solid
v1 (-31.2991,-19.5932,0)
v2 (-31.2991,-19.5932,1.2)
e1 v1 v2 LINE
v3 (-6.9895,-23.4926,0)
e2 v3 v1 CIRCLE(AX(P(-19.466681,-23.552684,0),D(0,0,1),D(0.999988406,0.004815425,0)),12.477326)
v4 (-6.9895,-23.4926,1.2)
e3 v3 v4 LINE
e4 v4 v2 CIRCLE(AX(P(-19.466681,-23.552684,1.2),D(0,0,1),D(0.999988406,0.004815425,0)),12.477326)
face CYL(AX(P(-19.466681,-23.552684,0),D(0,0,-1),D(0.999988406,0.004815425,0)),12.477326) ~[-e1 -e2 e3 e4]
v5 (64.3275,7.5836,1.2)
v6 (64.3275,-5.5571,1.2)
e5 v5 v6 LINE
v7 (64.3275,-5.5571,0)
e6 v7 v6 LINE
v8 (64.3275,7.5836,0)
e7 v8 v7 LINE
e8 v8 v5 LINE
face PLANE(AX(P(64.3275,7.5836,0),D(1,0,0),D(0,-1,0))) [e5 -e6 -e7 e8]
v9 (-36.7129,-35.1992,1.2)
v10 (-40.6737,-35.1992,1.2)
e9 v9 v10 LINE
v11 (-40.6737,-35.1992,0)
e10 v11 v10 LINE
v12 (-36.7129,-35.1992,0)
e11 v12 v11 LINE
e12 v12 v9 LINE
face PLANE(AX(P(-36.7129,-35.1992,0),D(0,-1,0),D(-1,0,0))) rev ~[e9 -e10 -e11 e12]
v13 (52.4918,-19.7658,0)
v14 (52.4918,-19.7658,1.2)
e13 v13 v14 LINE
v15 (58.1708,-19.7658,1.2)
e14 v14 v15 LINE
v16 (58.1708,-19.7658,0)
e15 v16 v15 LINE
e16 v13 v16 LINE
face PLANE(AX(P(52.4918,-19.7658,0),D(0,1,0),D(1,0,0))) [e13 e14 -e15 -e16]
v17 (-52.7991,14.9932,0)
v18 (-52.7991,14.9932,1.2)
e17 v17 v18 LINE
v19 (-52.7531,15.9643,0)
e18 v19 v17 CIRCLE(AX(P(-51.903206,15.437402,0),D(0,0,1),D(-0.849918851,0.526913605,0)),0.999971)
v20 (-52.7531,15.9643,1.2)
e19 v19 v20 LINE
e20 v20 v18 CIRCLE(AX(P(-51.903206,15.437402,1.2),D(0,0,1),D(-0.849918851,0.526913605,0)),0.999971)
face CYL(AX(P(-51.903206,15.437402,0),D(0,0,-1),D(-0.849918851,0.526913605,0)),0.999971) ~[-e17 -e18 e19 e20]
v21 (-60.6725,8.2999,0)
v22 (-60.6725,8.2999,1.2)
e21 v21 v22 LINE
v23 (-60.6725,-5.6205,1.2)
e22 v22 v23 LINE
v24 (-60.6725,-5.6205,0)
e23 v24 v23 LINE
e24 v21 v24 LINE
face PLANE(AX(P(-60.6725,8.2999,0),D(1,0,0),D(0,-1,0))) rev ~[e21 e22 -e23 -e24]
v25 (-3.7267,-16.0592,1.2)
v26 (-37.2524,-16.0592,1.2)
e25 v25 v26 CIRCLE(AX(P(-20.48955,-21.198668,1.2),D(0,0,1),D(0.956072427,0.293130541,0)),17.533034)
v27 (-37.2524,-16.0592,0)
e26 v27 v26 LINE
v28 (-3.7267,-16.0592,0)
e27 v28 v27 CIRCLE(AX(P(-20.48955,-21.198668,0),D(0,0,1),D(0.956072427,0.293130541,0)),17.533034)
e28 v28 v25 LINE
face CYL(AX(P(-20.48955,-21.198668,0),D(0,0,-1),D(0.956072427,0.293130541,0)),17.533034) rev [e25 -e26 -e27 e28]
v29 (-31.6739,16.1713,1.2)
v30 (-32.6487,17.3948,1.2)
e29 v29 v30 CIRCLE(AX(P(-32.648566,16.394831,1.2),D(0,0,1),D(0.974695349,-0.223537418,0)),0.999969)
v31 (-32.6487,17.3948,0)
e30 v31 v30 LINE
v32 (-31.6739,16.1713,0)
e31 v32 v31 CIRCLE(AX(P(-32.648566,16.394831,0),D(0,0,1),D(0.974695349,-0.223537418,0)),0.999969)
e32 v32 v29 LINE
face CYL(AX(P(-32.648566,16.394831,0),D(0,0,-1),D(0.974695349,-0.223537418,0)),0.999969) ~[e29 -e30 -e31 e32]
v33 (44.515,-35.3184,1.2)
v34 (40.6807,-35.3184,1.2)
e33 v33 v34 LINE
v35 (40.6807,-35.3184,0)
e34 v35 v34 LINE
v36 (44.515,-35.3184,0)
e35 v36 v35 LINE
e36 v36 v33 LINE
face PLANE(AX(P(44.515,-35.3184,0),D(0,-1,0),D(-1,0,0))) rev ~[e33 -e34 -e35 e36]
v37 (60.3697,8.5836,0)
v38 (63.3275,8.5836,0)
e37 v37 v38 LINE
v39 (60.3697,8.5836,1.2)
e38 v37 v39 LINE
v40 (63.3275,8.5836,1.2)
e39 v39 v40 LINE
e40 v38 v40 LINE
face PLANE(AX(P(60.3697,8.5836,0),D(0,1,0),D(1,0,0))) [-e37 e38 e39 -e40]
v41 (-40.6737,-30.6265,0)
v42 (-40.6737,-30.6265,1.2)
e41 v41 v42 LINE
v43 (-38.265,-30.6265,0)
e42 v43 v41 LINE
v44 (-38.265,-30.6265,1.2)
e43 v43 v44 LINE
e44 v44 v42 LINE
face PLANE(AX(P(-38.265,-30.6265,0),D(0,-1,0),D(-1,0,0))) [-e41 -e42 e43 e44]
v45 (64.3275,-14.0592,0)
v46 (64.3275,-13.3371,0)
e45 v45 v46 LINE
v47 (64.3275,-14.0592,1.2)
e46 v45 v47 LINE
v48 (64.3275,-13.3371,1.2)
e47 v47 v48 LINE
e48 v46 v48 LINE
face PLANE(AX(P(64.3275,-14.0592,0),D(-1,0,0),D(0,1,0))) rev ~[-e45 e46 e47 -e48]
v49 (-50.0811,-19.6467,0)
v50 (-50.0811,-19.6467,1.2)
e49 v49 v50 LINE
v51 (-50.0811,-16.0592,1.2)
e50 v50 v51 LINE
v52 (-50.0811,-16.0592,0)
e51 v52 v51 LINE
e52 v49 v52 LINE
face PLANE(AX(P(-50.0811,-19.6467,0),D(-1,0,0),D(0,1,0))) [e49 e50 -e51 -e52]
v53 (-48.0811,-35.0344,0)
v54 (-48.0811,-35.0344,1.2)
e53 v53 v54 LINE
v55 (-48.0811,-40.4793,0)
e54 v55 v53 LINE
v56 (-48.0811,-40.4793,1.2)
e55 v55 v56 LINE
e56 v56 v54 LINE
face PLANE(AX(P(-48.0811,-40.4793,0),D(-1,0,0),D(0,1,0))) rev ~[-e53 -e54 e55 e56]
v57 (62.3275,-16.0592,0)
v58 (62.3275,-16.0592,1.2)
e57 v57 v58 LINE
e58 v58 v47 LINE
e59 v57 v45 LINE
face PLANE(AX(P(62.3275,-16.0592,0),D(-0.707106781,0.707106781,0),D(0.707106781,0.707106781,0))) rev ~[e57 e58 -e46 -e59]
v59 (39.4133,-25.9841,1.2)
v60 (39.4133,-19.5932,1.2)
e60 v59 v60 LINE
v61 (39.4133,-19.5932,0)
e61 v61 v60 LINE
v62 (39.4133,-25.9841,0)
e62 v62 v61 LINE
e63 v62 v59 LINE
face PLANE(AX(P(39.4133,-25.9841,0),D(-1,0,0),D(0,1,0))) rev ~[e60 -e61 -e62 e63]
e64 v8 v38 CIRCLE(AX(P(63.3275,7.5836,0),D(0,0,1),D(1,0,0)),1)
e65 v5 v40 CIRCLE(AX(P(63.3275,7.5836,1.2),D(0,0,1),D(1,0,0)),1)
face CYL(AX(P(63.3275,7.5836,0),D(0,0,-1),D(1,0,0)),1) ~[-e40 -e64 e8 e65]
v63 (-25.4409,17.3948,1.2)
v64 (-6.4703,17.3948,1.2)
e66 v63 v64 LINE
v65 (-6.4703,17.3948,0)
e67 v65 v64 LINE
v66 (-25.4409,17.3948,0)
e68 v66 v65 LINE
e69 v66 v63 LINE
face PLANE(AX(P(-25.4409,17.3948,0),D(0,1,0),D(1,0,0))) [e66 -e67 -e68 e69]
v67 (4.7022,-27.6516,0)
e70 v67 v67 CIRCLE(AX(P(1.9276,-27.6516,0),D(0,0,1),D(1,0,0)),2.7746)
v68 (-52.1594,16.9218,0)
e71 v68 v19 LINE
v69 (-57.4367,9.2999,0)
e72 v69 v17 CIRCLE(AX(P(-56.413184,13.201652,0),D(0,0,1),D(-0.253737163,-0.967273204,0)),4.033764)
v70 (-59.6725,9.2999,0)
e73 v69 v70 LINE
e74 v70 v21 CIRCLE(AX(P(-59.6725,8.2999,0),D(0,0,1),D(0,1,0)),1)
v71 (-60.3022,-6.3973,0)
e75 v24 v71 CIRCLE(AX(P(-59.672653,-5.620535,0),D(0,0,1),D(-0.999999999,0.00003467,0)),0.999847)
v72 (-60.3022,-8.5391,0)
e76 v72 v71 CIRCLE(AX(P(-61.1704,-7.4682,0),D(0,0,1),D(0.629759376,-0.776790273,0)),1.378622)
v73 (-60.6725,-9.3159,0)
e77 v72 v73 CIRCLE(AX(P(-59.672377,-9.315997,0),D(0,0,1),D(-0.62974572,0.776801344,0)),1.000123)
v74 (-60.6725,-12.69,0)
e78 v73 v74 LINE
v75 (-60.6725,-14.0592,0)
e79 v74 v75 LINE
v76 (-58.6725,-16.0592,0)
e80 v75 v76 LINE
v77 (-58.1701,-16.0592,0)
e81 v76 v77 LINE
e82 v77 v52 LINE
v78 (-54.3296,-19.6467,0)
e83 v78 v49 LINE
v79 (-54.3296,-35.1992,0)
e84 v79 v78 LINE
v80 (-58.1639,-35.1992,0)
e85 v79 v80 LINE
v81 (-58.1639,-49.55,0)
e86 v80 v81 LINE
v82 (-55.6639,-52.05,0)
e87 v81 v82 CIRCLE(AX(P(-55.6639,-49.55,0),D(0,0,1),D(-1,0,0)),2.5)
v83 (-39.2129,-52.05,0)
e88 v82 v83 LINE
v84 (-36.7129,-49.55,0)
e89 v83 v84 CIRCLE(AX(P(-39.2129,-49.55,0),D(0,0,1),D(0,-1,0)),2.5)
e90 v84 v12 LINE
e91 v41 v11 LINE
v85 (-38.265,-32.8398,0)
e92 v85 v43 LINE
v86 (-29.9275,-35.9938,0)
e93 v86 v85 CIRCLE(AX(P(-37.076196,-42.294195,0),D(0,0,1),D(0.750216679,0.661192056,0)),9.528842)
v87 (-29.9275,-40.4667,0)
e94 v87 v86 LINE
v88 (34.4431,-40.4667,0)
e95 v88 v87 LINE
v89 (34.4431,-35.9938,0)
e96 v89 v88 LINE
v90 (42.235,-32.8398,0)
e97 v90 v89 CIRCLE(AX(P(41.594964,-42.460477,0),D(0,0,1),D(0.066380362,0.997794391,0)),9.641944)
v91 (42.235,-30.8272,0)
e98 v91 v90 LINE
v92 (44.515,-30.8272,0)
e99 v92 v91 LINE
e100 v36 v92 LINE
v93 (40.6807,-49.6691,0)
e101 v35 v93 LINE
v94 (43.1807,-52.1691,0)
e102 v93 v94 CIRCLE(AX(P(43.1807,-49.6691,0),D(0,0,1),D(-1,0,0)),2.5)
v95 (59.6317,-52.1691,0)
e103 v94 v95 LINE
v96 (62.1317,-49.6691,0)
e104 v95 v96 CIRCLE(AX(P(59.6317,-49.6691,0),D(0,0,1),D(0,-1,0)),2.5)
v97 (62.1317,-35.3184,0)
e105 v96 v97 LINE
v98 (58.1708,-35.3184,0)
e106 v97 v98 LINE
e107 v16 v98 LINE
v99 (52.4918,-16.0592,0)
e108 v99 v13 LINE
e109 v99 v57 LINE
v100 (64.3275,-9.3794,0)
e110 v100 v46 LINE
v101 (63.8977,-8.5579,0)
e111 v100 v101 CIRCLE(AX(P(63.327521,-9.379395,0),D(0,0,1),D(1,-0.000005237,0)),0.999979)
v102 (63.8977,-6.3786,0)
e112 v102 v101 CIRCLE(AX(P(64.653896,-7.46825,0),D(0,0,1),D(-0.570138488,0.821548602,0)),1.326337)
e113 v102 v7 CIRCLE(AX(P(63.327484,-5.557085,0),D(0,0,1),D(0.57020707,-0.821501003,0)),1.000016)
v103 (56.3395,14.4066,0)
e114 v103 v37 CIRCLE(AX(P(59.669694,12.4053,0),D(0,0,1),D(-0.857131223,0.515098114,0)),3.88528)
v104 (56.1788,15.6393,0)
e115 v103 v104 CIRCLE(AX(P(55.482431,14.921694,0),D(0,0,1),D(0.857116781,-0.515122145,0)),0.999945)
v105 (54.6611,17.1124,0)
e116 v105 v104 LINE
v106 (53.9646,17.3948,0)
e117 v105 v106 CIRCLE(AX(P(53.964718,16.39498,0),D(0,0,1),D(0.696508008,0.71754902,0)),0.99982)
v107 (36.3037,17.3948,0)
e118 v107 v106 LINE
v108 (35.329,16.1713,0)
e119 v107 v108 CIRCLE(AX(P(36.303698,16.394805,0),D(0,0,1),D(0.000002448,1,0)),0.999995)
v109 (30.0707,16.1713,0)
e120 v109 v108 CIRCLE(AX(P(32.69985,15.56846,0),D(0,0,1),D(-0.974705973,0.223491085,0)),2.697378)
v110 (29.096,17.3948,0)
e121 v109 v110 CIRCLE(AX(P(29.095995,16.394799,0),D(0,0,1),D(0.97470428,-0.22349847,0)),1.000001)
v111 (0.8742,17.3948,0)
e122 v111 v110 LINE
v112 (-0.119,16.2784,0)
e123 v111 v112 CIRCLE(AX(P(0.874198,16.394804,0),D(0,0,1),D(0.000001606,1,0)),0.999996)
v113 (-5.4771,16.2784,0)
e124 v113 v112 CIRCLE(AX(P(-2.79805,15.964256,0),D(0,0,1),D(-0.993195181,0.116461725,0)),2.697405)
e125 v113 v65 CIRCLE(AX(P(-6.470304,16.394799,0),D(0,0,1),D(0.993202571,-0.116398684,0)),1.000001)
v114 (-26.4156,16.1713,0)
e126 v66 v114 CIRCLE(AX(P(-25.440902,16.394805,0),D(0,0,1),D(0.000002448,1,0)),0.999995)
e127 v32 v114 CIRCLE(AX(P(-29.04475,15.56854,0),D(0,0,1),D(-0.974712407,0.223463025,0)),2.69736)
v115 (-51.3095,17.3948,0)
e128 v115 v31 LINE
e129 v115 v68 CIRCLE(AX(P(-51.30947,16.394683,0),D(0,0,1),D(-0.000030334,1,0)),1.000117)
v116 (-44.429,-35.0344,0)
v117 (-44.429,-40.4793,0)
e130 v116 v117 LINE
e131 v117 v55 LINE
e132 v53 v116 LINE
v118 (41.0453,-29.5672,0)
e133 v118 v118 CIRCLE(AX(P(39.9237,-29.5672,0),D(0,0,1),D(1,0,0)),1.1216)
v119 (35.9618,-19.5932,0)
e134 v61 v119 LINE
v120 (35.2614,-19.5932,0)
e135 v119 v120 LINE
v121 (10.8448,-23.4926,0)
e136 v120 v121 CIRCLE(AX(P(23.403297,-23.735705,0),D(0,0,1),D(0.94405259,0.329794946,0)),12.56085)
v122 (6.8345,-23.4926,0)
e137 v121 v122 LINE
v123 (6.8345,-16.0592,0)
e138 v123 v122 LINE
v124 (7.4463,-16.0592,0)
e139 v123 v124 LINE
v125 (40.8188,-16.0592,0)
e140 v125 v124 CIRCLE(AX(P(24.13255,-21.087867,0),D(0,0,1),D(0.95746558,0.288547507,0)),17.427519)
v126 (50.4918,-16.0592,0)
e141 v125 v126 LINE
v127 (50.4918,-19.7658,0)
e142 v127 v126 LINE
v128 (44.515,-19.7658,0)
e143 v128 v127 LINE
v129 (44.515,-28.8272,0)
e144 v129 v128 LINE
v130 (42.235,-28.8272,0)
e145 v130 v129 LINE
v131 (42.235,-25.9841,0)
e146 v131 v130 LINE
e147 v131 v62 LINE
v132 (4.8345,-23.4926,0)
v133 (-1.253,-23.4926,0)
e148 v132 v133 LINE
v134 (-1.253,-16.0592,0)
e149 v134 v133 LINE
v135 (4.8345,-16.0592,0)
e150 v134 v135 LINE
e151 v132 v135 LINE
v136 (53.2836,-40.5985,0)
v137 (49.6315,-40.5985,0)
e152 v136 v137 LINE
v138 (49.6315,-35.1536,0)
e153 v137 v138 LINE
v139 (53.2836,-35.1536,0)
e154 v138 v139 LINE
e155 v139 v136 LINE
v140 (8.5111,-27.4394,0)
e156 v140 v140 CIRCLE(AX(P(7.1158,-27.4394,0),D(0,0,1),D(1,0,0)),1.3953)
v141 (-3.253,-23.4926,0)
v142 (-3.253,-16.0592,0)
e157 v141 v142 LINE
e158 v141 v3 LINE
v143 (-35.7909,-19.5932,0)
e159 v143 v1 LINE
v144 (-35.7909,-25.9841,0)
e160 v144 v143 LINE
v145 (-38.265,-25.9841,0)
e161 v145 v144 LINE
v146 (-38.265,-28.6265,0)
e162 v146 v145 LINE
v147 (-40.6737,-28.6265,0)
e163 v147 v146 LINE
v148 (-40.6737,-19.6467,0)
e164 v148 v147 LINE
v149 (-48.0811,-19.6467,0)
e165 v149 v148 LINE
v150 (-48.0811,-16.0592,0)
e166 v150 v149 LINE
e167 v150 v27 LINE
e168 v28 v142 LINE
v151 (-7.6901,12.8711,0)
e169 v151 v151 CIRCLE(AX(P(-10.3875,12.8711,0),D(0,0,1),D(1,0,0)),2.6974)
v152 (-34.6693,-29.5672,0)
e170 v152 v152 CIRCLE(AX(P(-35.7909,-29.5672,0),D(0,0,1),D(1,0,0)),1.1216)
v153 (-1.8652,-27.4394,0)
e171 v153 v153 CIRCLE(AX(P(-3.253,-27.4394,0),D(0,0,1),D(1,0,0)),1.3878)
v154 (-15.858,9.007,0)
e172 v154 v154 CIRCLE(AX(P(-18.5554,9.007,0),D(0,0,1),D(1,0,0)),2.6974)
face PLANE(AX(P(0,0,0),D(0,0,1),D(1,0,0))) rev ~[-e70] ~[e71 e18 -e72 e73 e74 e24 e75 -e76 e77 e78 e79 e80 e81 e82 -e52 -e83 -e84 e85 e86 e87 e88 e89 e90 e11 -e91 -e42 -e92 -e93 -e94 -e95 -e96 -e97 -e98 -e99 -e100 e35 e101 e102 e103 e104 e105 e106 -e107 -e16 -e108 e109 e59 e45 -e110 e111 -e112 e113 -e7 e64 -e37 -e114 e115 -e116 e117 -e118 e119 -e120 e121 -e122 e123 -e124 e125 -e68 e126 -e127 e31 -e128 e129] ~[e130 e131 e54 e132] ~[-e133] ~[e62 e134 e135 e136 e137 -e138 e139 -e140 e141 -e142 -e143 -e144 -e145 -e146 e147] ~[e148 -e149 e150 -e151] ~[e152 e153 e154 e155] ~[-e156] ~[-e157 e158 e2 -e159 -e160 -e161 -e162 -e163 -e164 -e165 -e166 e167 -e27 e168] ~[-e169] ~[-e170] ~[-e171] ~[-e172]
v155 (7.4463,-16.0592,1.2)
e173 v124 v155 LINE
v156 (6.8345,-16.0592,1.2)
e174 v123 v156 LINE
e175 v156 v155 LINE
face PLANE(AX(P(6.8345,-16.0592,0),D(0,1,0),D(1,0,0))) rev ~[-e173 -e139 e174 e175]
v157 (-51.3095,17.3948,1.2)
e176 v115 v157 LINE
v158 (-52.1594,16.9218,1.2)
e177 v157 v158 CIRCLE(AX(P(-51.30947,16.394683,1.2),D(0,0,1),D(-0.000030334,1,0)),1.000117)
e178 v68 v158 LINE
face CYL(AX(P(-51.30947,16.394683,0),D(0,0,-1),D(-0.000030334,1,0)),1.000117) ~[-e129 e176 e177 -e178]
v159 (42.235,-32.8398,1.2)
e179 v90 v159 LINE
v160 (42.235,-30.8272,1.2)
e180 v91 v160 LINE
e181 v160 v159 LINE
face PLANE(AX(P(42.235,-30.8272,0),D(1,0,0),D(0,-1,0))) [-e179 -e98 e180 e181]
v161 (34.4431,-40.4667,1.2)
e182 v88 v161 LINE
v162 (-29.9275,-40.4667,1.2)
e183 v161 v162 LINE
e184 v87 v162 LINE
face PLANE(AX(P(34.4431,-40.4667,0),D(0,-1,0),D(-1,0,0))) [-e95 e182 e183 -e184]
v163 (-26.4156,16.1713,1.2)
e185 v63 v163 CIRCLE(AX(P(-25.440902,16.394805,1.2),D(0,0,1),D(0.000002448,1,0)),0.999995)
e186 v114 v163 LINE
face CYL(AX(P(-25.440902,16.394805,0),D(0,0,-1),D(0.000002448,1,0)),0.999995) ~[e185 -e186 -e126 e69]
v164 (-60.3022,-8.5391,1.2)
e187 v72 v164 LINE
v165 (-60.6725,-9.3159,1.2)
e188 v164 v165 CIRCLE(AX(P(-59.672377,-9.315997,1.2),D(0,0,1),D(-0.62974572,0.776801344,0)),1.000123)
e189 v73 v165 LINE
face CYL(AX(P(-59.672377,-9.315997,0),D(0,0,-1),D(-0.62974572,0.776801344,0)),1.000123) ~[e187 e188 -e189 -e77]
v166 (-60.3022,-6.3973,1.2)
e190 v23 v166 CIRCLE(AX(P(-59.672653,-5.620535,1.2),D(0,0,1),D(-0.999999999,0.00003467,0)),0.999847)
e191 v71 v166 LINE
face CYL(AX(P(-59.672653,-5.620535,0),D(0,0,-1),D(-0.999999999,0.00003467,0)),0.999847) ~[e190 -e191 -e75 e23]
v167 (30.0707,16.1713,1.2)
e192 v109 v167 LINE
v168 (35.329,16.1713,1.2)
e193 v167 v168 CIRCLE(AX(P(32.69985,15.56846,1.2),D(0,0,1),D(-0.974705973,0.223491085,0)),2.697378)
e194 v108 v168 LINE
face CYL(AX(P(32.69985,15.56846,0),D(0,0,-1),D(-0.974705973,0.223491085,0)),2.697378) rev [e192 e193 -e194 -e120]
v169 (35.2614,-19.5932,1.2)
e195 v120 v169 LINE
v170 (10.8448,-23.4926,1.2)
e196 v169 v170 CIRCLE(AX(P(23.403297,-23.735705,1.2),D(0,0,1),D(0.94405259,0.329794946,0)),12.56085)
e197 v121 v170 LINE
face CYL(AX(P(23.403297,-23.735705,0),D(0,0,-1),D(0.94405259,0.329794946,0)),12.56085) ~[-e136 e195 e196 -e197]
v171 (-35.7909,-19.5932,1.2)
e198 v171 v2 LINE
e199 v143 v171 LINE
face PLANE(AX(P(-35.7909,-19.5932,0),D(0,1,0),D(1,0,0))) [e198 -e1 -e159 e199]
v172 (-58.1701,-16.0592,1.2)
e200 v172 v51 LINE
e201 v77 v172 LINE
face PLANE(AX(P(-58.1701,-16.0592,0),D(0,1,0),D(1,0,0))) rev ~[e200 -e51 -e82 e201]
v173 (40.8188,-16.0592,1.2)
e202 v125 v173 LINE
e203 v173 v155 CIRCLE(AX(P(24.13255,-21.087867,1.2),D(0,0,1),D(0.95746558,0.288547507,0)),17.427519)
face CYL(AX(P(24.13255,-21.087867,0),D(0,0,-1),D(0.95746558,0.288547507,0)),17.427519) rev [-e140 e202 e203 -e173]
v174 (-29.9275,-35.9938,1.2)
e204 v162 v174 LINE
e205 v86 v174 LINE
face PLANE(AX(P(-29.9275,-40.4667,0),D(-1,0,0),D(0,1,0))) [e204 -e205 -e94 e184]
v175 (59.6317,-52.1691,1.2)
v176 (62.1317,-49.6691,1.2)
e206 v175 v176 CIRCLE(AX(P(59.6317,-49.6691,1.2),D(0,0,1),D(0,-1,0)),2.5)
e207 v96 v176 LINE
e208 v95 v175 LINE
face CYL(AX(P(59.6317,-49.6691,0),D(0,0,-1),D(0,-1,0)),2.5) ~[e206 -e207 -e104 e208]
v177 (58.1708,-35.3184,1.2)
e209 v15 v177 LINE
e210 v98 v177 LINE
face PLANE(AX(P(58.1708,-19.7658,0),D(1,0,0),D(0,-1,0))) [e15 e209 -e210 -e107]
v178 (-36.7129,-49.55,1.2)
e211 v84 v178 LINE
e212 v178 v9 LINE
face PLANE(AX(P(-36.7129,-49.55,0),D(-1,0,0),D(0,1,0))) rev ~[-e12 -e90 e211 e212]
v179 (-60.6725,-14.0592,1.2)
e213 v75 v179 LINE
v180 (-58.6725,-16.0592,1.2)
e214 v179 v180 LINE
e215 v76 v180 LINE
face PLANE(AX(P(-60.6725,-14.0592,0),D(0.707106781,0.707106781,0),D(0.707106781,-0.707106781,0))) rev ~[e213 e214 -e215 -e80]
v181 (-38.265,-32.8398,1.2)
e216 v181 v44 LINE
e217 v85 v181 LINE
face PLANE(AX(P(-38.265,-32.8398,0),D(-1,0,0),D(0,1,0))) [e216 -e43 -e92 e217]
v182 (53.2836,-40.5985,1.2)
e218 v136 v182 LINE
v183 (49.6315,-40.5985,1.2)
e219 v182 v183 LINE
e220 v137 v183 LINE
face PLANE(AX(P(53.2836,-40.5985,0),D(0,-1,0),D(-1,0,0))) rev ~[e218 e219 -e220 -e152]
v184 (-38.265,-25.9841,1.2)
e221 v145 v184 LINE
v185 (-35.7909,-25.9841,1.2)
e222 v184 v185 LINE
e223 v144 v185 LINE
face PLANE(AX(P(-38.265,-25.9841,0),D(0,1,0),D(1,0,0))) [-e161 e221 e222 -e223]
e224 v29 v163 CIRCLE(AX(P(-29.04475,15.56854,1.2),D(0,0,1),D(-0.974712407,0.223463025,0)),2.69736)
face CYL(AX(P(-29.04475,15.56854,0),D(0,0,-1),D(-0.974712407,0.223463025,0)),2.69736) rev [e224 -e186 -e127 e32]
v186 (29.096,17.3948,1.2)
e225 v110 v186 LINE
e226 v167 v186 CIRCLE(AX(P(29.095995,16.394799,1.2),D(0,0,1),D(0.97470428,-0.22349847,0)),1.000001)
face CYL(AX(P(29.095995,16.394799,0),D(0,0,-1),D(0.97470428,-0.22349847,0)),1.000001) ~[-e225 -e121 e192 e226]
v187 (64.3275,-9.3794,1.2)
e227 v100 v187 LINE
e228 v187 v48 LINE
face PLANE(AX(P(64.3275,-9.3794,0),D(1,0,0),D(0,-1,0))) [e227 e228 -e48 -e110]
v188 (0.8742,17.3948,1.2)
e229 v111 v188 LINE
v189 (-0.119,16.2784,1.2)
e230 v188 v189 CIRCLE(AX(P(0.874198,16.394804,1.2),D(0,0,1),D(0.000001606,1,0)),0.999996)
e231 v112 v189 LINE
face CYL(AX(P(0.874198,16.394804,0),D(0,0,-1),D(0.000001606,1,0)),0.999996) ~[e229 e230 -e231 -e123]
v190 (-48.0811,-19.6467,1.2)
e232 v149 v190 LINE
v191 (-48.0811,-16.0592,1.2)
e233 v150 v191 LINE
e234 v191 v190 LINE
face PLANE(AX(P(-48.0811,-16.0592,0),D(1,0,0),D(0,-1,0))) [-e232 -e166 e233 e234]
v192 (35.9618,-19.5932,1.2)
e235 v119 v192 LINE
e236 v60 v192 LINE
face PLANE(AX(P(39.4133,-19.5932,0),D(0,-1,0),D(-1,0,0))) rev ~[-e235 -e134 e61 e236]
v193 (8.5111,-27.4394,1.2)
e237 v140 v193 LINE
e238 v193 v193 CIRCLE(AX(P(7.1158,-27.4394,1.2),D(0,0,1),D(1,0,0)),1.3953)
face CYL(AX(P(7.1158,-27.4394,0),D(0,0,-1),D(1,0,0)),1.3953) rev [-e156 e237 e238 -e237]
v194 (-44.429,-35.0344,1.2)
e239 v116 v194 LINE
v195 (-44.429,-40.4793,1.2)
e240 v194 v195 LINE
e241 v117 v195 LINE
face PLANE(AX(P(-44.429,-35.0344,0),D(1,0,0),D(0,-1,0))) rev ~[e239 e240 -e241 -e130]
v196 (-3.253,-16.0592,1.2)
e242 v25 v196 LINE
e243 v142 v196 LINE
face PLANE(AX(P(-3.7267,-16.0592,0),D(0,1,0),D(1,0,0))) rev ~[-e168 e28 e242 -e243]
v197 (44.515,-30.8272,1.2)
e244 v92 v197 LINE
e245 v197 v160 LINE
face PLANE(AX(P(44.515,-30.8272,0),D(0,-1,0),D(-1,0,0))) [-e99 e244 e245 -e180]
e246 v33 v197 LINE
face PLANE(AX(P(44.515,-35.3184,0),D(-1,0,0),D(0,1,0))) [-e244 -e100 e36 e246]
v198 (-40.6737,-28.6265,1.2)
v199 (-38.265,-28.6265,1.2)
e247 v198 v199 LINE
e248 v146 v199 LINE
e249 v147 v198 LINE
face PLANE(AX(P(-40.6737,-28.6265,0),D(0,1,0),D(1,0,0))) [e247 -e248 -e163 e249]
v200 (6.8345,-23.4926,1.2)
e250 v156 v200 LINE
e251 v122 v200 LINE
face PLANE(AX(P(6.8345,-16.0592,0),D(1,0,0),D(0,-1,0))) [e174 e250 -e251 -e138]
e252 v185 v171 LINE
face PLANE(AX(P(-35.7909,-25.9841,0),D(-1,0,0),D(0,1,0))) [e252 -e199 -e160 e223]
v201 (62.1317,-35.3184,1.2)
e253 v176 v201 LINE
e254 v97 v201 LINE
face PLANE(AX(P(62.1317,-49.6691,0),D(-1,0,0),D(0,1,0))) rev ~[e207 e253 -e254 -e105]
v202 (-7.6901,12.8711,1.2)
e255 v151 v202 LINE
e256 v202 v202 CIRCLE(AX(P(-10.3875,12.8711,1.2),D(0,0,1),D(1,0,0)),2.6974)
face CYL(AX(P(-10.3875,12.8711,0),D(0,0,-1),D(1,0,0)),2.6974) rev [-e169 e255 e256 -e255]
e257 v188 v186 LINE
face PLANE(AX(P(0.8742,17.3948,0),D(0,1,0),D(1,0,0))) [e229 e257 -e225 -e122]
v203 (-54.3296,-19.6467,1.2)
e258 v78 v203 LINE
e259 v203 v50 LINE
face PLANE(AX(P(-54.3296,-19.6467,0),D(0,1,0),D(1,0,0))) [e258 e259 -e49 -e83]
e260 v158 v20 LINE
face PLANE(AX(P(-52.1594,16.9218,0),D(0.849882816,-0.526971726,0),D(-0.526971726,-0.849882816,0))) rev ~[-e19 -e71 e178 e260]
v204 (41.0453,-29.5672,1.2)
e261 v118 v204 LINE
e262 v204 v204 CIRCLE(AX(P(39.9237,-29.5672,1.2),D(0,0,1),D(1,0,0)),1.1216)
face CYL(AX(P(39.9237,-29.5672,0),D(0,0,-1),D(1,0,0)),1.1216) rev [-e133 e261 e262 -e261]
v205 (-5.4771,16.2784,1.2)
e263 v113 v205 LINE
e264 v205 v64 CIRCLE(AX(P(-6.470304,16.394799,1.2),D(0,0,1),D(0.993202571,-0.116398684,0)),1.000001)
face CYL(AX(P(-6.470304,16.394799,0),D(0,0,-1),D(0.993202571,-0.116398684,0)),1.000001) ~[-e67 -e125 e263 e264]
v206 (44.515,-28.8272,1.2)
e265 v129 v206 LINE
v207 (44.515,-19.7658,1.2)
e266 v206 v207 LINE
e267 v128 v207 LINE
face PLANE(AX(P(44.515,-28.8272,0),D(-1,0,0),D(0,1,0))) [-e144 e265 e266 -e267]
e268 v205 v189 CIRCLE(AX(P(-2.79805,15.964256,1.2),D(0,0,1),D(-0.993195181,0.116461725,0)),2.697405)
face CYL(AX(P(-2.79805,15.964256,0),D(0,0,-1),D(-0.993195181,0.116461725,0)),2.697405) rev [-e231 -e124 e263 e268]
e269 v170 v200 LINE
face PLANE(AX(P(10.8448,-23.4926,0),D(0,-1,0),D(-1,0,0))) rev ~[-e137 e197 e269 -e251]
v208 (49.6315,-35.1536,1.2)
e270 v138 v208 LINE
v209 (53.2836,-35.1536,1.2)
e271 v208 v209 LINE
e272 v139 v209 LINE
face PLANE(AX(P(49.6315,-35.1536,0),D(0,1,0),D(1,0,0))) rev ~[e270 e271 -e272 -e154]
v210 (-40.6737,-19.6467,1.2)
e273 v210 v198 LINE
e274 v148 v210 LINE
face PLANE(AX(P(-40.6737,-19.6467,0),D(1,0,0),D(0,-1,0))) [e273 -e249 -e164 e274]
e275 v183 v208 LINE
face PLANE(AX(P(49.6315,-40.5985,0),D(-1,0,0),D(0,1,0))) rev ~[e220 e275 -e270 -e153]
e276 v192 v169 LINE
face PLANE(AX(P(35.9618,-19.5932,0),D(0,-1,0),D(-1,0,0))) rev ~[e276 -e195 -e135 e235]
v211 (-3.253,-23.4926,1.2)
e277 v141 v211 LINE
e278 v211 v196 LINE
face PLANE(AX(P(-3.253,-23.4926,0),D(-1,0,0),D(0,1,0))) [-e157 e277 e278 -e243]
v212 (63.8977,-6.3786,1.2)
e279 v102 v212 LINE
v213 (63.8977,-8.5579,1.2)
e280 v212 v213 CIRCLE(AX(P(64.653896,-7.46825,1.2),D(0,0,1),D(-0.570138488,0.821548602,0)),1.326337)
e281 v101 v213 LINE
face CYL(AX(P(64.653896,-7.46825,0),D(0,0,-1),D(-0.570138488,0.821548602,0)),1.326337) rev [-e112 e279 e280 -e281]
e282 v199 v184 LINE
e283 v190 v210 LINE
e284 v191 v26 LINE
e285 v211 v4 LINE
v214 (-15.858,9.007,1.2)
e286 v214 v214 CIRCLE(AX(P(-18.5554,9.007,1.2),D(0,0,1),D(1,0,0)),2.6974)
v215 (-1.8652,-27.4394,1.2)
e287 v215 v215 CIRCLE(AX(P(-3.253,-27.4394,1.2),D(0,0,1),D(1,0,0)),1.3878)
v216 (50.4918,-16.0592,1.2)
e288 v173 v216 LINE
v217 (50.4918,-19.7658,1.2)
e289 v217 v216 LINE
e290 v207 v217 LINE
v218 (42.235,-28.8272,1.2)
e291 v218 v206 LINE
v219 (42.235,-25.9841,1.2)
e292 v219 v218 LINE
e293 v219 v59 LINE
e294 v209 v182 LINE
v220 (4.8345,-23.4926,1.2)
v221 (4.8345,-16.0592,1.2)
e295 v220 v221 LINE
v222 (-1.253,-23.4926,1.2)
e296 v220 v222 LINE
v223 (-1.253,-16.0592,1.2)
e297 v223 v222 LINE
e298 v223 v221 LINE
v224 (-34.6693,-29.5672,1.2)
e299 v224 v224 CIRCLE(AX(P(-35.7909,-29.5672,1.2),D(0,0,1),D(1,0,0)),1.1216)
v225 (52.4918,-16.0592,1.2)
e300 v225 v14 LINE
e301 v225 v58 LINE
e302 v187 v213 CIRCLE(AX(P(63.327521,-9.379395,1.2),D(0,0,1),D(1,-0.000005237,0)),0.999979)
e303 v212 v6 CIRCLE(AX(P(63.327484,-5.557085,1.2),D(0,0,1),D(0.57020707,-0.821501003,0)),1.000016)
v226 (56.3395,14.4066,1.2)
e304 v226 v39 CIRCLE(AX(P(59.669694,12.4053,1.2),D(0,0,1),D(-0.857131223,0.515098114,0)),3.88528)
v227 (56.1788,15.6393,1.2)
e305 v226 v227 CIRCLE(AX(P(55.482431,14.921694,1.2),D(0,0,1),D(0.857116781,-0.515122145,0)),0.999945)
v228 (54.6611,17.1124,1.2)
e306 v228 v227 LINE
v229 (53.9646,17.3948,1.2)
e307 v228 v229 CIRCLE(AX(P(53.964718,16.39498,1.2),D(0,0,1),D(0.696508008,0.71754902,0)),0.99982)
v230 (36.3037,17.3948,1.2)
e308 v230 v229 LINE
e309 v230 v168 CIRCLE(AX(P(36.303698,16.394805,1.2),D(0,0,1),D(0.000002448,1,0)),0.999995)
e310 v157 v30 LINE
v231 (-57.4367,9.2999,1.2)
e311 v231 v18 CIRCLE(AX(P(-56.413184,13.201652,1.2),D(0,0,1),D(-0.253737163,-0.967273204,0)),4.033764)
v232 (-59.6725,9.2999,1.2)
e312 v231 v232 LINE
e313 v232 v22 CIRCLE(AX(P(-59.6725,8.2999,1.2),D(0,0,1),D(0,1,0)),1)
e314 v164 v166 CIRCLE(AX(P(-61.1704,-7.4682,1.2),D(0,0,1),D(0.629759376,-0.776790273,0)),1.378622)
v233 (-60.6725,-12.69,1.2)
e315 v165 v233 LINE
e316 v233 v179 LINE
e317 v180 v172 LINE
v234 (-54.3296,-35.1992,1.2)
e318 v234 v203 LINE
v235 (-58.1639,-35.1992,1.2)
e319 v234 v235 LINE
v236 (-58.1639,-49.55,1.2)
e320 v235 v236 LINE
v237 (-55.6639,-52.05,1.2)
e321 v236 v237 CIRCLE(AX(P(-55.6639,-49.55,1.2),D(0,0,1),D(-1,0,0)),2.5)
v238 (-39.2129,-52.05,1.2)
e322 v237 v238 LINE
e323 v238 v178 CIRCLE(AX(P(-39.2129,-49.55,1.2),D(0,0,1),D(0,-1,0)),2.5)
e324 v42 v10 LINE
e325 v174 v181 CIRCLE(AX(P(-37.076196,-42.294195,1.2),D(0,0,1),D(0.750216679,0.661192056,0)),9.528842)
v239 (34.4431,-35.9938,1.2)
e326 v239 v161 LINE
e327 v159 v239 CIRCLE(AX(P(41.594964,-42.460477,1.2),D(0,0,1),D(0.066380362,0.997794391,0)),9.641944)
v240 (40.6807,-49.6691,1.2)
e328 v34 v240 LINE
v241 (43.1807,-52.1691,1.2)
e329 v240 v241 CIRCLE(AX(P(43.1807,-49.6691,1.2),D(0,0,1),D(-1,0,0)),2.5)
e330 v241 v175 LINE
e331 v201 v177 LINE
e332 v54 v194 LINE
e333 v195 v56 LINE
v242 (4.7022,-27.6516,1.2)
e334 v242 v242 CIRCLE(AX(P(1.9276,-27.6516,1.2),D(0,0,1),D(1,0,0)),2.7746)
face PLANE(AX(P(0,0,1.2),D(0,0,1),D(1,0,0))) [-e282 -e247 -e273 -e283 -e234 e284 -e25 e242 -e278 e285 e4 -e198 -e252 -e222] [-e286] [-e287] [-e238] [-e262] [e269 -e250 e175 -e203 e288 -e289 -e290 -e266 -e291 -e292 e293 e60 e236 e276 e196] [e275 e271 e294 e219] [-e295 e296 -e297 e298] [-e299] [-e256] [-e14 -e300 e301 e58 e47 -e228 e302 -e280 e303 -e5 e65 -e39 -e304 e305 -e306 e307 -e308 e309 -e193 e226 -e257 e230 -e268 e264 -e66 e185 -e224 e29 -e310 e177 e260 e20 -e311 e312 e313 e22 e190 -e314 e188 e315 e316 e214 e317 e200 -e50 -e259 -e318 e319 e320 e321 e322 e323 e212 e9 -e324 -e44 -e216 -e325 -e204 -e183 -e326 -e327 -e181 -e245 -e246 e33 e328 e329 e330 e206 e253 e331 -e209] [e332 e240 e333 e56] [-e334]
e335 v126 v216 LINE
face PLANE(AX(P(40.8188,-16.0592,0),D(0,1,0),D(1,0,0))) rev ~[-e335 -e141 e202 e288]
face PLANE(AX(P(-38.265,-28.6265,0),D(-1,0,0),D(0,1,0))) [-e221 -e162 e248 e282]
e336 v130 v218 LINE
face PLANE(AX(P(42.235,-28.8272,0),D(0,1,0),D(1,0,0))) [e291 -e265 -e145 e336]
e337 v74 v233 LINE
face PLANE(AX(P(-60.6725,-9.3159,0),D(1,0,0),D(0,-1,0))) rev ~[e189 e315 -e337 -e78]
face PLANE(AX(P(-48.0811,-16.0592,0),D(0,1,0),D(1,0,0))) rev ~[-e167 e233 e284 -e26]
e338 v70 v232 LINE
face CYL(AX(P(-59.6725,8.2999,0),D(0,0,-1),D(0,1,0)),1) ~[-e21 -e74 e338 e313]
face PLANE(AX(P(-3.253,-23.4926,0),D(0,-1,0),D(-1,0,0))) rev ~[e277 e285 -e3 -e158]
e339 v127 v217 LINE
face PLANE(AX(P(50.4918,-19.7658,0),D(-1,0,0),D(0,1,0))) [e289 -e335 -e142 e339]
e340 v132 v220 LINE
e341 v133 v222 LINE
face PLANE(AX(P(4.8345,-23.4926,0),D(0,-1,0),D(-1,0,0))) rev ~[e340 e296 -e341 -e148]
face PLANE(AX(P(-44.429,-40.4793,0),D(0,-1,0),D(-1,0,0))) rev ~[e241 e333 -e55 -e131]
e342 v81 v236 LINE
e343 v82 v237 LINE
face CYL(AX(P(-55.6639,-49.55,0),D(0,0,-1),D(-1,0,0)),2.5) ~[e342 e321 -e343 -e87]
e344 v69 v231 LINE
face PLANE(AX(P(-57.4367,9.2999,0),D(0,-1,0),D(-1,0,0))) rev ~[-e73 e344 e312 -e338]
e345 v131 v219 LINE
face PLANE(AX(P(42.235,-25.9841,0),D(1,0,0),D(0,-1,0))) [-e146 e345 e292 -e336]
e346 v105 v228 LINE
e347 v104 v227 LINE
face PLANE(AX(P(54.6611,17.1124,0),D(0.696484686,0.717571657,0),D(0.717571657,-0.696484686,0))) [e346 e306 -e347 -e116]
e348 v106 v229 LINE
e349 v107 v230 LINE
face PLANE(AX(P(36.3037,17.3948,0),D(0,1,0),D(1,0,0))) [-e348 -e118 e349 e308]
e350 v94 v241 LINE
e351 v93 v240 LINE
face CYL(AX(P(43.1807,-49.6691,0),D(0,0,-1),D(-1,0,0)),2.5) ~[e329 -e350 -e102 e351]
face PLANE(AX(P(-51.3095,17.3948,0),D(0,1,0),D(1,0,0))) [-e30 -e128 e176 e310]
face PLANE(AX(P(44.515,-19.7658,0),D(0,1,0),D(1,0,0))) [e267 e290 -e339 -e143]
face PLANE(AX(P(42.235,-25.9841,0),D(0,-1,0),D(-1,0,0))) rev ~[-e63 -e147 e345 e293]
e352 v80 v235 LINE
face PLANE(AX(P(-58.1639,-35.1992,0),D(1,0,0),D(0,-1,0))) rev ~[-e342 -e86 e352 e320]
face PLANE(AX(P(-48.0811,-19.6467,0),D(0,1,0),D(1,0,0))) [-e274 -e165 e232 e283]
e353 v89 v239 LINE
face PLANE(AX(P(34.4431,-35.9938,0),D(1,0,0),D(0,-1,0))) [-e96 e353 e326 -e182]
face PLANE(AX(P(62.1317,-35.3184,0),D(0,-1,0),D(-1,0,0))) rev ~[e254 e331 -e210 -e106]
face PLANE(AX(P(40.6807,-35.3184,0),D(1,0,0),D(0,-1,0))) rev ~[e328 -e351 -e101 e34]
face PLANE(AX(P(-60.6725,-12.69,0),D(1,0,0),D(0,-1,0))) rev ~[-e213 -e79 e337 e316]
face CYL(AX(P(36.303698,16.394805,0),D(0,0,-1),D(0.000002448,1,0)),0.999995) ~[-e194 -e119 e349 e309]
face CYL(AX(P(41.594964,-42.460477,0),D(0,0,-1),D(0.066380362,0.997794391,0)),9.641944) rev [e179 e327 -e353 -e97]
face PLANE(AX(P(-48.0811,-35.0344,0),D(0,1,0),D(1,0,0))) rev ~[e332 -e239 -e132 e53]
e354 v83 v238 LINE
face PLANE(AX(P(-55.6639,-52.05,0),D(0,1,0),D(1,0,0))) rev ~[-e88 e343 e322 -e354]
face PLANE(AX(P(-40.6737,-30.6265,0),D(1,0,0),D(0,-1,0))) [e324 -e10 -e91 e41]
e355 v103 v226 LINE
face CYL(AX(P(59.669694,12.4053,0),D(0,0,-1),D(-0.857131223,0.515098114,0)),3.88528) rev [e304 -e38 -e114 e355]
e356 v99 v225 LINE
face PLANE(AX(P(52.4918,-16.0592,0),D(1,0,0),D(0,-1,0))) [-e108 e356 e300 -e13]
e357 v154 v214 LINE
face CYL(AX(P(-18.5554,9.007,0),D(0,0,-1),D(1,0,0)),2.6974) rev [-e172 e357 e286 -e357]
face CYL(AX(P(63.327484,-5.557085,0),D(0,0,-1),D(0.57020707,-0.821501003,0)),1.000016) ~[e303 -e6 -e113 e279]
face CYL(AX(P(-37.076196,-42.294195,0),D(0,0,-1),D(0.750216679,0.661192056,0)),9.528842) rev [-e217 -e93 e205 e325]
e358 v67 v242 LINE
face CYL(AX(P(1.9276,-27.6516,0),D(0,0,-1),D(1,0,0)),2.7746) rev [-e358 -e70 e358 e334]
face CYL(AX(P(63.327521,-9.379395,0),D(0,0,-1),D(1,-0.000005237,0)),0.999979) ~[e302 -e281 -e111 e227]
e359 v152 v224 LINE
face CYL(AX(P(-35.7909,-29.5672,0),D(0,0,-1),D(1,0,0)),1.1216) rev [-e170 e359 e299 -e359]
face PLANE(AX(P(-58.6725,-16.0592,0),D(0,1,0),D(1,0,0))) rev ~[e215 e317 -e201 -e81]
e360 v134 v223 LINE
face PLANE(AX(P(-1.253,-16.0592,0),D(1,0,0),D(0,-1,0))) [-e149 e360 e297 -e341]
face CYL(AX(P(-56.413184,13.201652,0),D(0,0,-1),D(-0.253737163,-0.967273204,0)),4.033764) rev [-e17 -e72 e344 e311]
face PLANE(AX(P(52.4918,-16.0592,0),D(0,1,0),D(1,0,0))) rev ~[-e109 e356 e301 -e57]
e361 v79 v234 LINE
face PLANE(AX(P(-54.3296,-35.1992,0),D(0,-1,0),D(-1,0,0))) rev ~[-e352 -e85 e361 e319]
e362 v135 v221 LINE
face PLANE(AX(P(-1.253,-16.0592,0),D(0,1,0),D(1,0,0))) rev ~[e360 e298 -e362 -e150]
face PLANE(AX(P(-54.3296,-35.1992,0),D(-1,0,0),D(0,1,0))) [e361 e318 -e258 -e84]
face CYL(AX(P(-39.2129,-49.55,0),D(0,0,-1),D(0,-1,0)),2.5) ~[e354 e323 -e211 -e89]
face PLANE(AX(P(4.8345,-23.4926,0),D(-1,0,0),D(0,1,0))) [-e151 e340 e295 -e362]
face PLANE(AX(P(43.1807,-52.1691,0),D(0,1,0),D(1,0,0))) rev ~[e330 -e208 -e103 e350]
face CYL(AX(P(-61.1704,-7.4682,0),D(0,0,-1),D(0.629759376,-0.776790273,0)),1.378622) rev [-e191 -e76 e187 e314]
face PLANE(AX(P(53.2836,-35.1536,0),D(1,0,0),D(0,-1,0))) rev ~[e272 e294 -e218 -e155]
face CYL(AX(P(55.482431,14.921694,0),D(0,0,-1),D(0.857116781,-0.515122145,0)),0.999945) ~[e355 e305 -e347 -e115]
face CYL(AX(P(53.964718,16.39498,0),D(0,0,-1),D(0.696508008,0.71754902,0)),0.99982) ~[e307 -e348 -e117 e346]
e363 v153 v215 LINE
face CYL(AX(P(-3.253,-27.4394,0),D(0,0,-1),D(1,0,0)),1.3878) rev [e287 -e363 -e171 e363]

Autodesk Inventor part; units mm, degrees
ref_plane "YZ Plane" through (0, 0, 0) normal (1, 0, 0) x (0, 1, 0)
ref_plane "XZ Plane" through (0, 0, 0) normal (0, 1, 0) x (-1, 0, 0)
ref_plane "XY Plane" through (0, 0, 0) normal (0, 0, 1) x (1, 0, 0)
sketch "Sketch1" plane through (0, 0, 0) normal (0, 0, 1) x (1, 0, 0)
  arc A0 (-3.7267, -16.0592) -> (-37.2524, -16.0592) centre (-20.4895, -21.1986) ccw
  line L0 (54.6611, 17.1124) -> (56.1788, 15.6393)
  arc A1 (40.8188, -16.0592) -> (7.4463, -16.0592) centre (24.1326, -21.0878) ccw
  line L1 (64.3275, -14.0592) -> (64.3275, -13.3371)
  line L2 (-60.6725, -12.69) -> (-60.6725, -14.0592)
  line L3 (-58.6725, -16.0592) -> (-58.1701, -16.0592)
  arc A2 (-57.4367, 9.2999) -> (-52.7991, 14.9932) centre (-56.4132, 13.2017) ccw
  arc A3 (56.3395, 14.4066) -> (60.3697, 8.5836) centre (59.6697, 12.4053) ccw
  line L4 (-52.1594, 16.9218) -> (-52.7531, 15.9643)
  line L5 (-57.4367, 9.2999) -> (-59.6725, 9.2999)
  line L6 (60.3697, 8.5836) -> (63.3275, 8.5836)
  line L7 (-60.6725, -14.0592) -> (-58.6725, -16.0592)
  line L8 (62.3275, -16.0592) -> (64.3275, -14.0592)
  arc A4 (-59.6725, 9.2999) -> (-60.6725, 8.2999) centre (-59.6725, 8.2999) ccw
  arc A5 (-52.7531, 15.9643) -> (-52.7991, 14.9932) centre (-51.9032, 15.4374) ccw
  arc A6 (-51.3095, 17.3948) -> (-52.1594, 16.9218) centre (-51.3095, 16.3948) ccw
  arc A7 (54.6611, 17.1124) -> (53.9646, 17.3948) centre (53.9646, 16.3948) ccw
  arc A8 (56.3395, 14.4066) -> (56.1788, 15.6393) centre (55.4824, 14.9217) ccw
  arc A9 (64.3275, 7.5836) -> (63.3275, 8.5836) centre (63.3275, 7.5836) ccw
  circle A10 centre (-10.3875, 12.8711) radius 2.6974
  circle A11 centre (-18.5554, 9.007) radius 2.6974
  arc A12 (-31.6739, 16.1713) -> (-26.4156, 16.1713) centre (-29.0448, 15.5685) ccw
  arc A13 (-5.4771, 16.2784) -> (-0.119, 16.2784) centre (-2.798, 15.9643) ccw
  arc A14 (30.0707, 16.1713) -> (35.329, 16.1713) centre (32.6999, 15.5685) ccw
  line L9 (-51.3095, 17.3948) -> (-32.6487, 17.3948)
  line L10 (-25.4409, 17.3948) -> (-6.4703, 17.3948)
  line L11 (0.8742, 17.3948) -> (29.096, 17.3948)
  line L12 (36.3037, 17.3948) -> (53.9646, 17.3948)
  arc A15 (-31.6739, 16.1713) -> (-32.6487, 17.3948) centre (-32.6487, 16.3948) ccw
  arc A16 (-25.4409, 17.3948) -> (-26.4156, 16.1713) centre (-25.4409, 16.3948) ccw
  arc A17 (-5.4771, 16.2784) -> (-6.4703, 17.3948) centre (-6.4703, 16.3948) ccw
  arc A18 (0.8742, 17.3948) -> (-0.119, 16.2784) centre (0.8742, 16.3948) ccw
  arc A19 (36.3037, 17.3948) -> (35.329, 16.1713) centre (36.3037, 16.3948) ccw
  arc A20 (30.0707, 16.1713) -> (29.096, 17.3948) centre (29.096, 16.3948) ccw
  arc A21 (-60.3022, -8.5391) -> (-60.3022, -6.3973) centre (-61.1704, -7.4682) ccw
  arc A22 (63.8977, -6.3786) -> (63.8977, -8.5579) centre (64.6538, -7.4682) ccw
  line L13 (-60.6725, 8.2999) -> (-60.6725, -5.6205)
  line L14 (-60.6725, -9.3159) -> (-60.6725, -12.69)
  line L15 (64.3275, 7.5836) -> (64.3275, -5.5571)
  line L16 (64.3275, -9.3794) -> (64.3275, -13.3371)
  arc A23 (63.8977, -6.3786) -> (64.3275, -5.5571) centre (63.3275, -5.5571) ccw
  arc A24 (64.3275, -9.3794) -> (63.8977, -8.5579) centre (63.3275, -9.3794) ccw
  arc A25 (-60.6725, -5.6205) -> (-60.3022, -6.3973) centre (-59.6725, -5.6205) ccw
  arc A26 (-60.3022, -8.5391) -> (-60.6725, -9.3159) centre (-59.6725, -9.3159) ccw
  line L17 (34.4431, -35.9938) -> (34.4431, -40.4667)
  line L18 (34.4431, -40.4667) -> (-29.9275, -40.4667)
  line L19 (-29.9275, -40.4667) -> (-29.9275, -35.9938)
  arc A27 (42.235, -32.8398) -> (34.4431, -35.9938) centre (41.595, -42.4607) ccw
  arc A28 (-29.9275, -35.9938) -> (-38.265, -32.8398) centre (-37.0762, -42.2942) ccw
  line L20 (42.235, -25.9841) -> (39.4133, -25.9841)
  line L21 (39.4133, -25.9841) -> (39.4133, -19.5932)
  line L22 (39.4133, -19.5932) -> (35.9618, -19.5932)
  arc A29 (35.2614, -19.5932) -> (10.8448, -23.4926) centre (23.4033, -23.7357) ccw
  arc A30 (-6.9895, -23.4926) -> (-31.2991, -19.5932) centre (-19.4667, -23.5527) ccw
  line L23 (35.9618, -19.5932) -> (35.2614, -19.5932)
  line L24 (-38.265, -25.9841) -> (-35.7909, -25.9841)
  line L25 (-35.7909, -25.9841) -> (-35.7909, -19.5932)
  line L26 (-35.7909, -19.5932) -> (-31.2991, -19.5932)
  circle A31 centre (39.9237, -29.5672) radius 1.1216
  circle A32 centre (-35.7909, -29.5672) radius 1.1216
  circle A33 centre (1.9276, -27.6516) radius 2.7746
  circle A34 centre (7.1158, -27.4394) radius 1.3953
  circle A35 centre (-3.253, -27.4394) radius 1.3878
  line L27 (40.6807, -35.3184) -> (40.6807, -49.6691)
  line L28 (43.1807, -52.1691) -> (59.6317, -52.1691)
  line L29 (62.1317, -49.6691) -> (62.1317, -35.3184)
  line L30 (58.1708, -19.7658) -> (58.1708, -35.3184)
  arc A36 (59.6317, -52.1691) -> (62.1317, -49.6691) centre (59.6317, -49.6691) ccw
  arc A37 (40.6807, -49.6691) -> (43.1807, -52.1691) centre (43.1807, -49.6691) ccw
  line L31 (62.1317, -35.3184) -> (58.1708, -35.3184)
  line L32 (44.515, -35.3184) -> (40.6807, -35.3184)
  line L33 (62.1317, -35.3184) -> (58.1708, -35.3184)
  line L34 (44.515, -35.3184) -> (40.6807, -35.3184)
  line L35 (53.2836, -40.5985) -> (49.6315, -40.5985)
  line L36 (49.6315, -40.5985) -> (49.6315, -35.1536)
  line L37 (49.6315, -35.1536) -> (53.2836, -35.1536)
  line L38 (53.2836, -35.1536) -> (53.2836, -40.5985)
  line L39 (-58.1639, -35.1992) -> (-58.1639, -49.55)
  line L40 (-55.6639, -52.05) -> (-39.2129, -52.05)
  line L41 (-36.7129, -49.55) -> (-36.7129, -35.1992)
  line L42 (-54.3296, -35.1992) -> (-54.3296, -19.6467)
  arc A38 (-39.2129, -52.05) -> (-36.7129, -49.55) centre (-39.2129, -49.55) ccw
  arc A39 (-58.1639, -49.55) -> (-55.6639, -52.05) centre (-55.6639, -49.55) ccw
  line L43 (-36.7129, -35.1992) -> (-40.6737, -35.1992)
  line L44 (-54.3296, -35.1992) -> (-58.1639, -35.1992)
  line L45 (-36.7129, -35.1992) -> (-40.6737, -35.1992)
  line L46 (-54.3296, -35.1992) -> (-58.1639, -35.1992)
  line L47 (-44.429, -40.4793) -> (-48.0811, -40.4793)
  line L48 (-48.0811, -40.4793) -> (-48.0811, -35.0344)
  line L49 (-48.0811, -35.0344) -> (-44.429, -35.0344)
  line L50 (-44.429, -35.0344) -> (-44.429, -40.4793)
  line L51 (-48.0811, -16.0592) -> (-48.0811, -19.6467)
  line L52 (-50.0811, -19.6467) -> (-50.0811, -16.0592)
  line L53 (-40.6737, -28.6265) -> (-38.265, -28.6265)
  line L54 (-38.265, -30.6265) -> (-40.6737, -30.6265)
  line L55 (-1.253, -16.0592) -> (-1.253, -23.4926)
  line L56 (-3.253, -23.4926) -> (-3.253, -16.0592)
  line L57 (6.8345, -16.0592) -> (6.8345, -23.4926)
  line L58 (4.8345, -23.4926) -> (4.8345, -16.0592)
  line L59 (42.235, -28.8272) -> (44.515, -28.8272)
  line L60 (44.515, -30.8272) -> (42.235, -30.8272)
  line L61 (52.4918, -16.0592) -> (52.4918, -19.7658)
  line L62 (50.4918, -19.7658) -> (50.4918, -16.0592)
  line L63 (-54.3296, -19.6467) -> (-50.0811, -19.6467)
  line L64 (-48.0811, -19.6467) -> (-40.6737, -19.6467)
  line L65 (-58.1701, -16.0592) -> (-50.0811, -16.0592)
  line L66 (-48.0811, -16.0592) -> (-37.2524, -16.0592)
  line L67 (-40.6737, -19.6467) -> (-40.6737, -28.6265)
  line L68 (-40.6737, -30.6265) -> (-40.6737, -35.1992)
  line L69 (-38.265, -32.8398) -> (-38.265, -30.6265)
  line L70 (-38.265, -28.6265) -> (-38.265, -25.9841)
  line L71 (-3.7267, -16.0592) -> (-3.253, -16.0592)
  line L72 (-1.253, -16.0592) -> (4.8345, -16.0592)
  line L73 (6.8345, -16.0592) -> (7.4463, -16.0592)
  line L74 (10.8448, -23.4926) -> (6.8345, -23.4926)
  line L75 (4.8345, -23.4926) -> (-1.253, -23.4926)
  line L76 (-3.253, -23.4926) -> (-6.9895, -23.4926)
  line L77 (42.235, -25.9841) -> (42.235, -28.8272)
  line L78 (42.235, -30.8272) -> (42.235, -32.8398)
  line L79 (44.515, -35.3184) -> (44.515, -30.8272)
  line L80 (44.515, -28.8272) -> (44.515, -19.7658)
  line L81 (40.8188, -16.0592) -> (50.4918, -16.0592)
  line L82 (52.4918, -16.0592) -> (62.3275, -16.0592)
  line L83 (44.515, -19.7658) -> (50.4918, -19.7658)
  line L84 (52.4918, -19.7658) -> (58.1708, -19.7658)
  point P0 (0, 0)
  point P1 (56.8058, 15.0308)
  point P2 (64.3275, -16.0592)
  point P3 (-60.6725, -16.0592)
  point P4 (-53.0682, 15.4561)
  point P5 (-31.0298, 17.3948)
  point P6 (-27.0597, 17.3948)
  point P7 (-5.0849, 17.3948)
  point P8 (-0.5112, 17.3948)
  point P9 (30.7148, 17.3948)
  point P10 (34.6849, 17.3948)
  point P11 (-60.6725, -8.7538)
  point P12 (-60.6725, -6.1827)
  point P13 (64.3275, -6.1827)
  point P14 (64.3275, -8.7538)
extrude "Extrusion1" add sketch "Sketch1" along normal blind 1.2
properties part number "Controller_PCB_shape"
